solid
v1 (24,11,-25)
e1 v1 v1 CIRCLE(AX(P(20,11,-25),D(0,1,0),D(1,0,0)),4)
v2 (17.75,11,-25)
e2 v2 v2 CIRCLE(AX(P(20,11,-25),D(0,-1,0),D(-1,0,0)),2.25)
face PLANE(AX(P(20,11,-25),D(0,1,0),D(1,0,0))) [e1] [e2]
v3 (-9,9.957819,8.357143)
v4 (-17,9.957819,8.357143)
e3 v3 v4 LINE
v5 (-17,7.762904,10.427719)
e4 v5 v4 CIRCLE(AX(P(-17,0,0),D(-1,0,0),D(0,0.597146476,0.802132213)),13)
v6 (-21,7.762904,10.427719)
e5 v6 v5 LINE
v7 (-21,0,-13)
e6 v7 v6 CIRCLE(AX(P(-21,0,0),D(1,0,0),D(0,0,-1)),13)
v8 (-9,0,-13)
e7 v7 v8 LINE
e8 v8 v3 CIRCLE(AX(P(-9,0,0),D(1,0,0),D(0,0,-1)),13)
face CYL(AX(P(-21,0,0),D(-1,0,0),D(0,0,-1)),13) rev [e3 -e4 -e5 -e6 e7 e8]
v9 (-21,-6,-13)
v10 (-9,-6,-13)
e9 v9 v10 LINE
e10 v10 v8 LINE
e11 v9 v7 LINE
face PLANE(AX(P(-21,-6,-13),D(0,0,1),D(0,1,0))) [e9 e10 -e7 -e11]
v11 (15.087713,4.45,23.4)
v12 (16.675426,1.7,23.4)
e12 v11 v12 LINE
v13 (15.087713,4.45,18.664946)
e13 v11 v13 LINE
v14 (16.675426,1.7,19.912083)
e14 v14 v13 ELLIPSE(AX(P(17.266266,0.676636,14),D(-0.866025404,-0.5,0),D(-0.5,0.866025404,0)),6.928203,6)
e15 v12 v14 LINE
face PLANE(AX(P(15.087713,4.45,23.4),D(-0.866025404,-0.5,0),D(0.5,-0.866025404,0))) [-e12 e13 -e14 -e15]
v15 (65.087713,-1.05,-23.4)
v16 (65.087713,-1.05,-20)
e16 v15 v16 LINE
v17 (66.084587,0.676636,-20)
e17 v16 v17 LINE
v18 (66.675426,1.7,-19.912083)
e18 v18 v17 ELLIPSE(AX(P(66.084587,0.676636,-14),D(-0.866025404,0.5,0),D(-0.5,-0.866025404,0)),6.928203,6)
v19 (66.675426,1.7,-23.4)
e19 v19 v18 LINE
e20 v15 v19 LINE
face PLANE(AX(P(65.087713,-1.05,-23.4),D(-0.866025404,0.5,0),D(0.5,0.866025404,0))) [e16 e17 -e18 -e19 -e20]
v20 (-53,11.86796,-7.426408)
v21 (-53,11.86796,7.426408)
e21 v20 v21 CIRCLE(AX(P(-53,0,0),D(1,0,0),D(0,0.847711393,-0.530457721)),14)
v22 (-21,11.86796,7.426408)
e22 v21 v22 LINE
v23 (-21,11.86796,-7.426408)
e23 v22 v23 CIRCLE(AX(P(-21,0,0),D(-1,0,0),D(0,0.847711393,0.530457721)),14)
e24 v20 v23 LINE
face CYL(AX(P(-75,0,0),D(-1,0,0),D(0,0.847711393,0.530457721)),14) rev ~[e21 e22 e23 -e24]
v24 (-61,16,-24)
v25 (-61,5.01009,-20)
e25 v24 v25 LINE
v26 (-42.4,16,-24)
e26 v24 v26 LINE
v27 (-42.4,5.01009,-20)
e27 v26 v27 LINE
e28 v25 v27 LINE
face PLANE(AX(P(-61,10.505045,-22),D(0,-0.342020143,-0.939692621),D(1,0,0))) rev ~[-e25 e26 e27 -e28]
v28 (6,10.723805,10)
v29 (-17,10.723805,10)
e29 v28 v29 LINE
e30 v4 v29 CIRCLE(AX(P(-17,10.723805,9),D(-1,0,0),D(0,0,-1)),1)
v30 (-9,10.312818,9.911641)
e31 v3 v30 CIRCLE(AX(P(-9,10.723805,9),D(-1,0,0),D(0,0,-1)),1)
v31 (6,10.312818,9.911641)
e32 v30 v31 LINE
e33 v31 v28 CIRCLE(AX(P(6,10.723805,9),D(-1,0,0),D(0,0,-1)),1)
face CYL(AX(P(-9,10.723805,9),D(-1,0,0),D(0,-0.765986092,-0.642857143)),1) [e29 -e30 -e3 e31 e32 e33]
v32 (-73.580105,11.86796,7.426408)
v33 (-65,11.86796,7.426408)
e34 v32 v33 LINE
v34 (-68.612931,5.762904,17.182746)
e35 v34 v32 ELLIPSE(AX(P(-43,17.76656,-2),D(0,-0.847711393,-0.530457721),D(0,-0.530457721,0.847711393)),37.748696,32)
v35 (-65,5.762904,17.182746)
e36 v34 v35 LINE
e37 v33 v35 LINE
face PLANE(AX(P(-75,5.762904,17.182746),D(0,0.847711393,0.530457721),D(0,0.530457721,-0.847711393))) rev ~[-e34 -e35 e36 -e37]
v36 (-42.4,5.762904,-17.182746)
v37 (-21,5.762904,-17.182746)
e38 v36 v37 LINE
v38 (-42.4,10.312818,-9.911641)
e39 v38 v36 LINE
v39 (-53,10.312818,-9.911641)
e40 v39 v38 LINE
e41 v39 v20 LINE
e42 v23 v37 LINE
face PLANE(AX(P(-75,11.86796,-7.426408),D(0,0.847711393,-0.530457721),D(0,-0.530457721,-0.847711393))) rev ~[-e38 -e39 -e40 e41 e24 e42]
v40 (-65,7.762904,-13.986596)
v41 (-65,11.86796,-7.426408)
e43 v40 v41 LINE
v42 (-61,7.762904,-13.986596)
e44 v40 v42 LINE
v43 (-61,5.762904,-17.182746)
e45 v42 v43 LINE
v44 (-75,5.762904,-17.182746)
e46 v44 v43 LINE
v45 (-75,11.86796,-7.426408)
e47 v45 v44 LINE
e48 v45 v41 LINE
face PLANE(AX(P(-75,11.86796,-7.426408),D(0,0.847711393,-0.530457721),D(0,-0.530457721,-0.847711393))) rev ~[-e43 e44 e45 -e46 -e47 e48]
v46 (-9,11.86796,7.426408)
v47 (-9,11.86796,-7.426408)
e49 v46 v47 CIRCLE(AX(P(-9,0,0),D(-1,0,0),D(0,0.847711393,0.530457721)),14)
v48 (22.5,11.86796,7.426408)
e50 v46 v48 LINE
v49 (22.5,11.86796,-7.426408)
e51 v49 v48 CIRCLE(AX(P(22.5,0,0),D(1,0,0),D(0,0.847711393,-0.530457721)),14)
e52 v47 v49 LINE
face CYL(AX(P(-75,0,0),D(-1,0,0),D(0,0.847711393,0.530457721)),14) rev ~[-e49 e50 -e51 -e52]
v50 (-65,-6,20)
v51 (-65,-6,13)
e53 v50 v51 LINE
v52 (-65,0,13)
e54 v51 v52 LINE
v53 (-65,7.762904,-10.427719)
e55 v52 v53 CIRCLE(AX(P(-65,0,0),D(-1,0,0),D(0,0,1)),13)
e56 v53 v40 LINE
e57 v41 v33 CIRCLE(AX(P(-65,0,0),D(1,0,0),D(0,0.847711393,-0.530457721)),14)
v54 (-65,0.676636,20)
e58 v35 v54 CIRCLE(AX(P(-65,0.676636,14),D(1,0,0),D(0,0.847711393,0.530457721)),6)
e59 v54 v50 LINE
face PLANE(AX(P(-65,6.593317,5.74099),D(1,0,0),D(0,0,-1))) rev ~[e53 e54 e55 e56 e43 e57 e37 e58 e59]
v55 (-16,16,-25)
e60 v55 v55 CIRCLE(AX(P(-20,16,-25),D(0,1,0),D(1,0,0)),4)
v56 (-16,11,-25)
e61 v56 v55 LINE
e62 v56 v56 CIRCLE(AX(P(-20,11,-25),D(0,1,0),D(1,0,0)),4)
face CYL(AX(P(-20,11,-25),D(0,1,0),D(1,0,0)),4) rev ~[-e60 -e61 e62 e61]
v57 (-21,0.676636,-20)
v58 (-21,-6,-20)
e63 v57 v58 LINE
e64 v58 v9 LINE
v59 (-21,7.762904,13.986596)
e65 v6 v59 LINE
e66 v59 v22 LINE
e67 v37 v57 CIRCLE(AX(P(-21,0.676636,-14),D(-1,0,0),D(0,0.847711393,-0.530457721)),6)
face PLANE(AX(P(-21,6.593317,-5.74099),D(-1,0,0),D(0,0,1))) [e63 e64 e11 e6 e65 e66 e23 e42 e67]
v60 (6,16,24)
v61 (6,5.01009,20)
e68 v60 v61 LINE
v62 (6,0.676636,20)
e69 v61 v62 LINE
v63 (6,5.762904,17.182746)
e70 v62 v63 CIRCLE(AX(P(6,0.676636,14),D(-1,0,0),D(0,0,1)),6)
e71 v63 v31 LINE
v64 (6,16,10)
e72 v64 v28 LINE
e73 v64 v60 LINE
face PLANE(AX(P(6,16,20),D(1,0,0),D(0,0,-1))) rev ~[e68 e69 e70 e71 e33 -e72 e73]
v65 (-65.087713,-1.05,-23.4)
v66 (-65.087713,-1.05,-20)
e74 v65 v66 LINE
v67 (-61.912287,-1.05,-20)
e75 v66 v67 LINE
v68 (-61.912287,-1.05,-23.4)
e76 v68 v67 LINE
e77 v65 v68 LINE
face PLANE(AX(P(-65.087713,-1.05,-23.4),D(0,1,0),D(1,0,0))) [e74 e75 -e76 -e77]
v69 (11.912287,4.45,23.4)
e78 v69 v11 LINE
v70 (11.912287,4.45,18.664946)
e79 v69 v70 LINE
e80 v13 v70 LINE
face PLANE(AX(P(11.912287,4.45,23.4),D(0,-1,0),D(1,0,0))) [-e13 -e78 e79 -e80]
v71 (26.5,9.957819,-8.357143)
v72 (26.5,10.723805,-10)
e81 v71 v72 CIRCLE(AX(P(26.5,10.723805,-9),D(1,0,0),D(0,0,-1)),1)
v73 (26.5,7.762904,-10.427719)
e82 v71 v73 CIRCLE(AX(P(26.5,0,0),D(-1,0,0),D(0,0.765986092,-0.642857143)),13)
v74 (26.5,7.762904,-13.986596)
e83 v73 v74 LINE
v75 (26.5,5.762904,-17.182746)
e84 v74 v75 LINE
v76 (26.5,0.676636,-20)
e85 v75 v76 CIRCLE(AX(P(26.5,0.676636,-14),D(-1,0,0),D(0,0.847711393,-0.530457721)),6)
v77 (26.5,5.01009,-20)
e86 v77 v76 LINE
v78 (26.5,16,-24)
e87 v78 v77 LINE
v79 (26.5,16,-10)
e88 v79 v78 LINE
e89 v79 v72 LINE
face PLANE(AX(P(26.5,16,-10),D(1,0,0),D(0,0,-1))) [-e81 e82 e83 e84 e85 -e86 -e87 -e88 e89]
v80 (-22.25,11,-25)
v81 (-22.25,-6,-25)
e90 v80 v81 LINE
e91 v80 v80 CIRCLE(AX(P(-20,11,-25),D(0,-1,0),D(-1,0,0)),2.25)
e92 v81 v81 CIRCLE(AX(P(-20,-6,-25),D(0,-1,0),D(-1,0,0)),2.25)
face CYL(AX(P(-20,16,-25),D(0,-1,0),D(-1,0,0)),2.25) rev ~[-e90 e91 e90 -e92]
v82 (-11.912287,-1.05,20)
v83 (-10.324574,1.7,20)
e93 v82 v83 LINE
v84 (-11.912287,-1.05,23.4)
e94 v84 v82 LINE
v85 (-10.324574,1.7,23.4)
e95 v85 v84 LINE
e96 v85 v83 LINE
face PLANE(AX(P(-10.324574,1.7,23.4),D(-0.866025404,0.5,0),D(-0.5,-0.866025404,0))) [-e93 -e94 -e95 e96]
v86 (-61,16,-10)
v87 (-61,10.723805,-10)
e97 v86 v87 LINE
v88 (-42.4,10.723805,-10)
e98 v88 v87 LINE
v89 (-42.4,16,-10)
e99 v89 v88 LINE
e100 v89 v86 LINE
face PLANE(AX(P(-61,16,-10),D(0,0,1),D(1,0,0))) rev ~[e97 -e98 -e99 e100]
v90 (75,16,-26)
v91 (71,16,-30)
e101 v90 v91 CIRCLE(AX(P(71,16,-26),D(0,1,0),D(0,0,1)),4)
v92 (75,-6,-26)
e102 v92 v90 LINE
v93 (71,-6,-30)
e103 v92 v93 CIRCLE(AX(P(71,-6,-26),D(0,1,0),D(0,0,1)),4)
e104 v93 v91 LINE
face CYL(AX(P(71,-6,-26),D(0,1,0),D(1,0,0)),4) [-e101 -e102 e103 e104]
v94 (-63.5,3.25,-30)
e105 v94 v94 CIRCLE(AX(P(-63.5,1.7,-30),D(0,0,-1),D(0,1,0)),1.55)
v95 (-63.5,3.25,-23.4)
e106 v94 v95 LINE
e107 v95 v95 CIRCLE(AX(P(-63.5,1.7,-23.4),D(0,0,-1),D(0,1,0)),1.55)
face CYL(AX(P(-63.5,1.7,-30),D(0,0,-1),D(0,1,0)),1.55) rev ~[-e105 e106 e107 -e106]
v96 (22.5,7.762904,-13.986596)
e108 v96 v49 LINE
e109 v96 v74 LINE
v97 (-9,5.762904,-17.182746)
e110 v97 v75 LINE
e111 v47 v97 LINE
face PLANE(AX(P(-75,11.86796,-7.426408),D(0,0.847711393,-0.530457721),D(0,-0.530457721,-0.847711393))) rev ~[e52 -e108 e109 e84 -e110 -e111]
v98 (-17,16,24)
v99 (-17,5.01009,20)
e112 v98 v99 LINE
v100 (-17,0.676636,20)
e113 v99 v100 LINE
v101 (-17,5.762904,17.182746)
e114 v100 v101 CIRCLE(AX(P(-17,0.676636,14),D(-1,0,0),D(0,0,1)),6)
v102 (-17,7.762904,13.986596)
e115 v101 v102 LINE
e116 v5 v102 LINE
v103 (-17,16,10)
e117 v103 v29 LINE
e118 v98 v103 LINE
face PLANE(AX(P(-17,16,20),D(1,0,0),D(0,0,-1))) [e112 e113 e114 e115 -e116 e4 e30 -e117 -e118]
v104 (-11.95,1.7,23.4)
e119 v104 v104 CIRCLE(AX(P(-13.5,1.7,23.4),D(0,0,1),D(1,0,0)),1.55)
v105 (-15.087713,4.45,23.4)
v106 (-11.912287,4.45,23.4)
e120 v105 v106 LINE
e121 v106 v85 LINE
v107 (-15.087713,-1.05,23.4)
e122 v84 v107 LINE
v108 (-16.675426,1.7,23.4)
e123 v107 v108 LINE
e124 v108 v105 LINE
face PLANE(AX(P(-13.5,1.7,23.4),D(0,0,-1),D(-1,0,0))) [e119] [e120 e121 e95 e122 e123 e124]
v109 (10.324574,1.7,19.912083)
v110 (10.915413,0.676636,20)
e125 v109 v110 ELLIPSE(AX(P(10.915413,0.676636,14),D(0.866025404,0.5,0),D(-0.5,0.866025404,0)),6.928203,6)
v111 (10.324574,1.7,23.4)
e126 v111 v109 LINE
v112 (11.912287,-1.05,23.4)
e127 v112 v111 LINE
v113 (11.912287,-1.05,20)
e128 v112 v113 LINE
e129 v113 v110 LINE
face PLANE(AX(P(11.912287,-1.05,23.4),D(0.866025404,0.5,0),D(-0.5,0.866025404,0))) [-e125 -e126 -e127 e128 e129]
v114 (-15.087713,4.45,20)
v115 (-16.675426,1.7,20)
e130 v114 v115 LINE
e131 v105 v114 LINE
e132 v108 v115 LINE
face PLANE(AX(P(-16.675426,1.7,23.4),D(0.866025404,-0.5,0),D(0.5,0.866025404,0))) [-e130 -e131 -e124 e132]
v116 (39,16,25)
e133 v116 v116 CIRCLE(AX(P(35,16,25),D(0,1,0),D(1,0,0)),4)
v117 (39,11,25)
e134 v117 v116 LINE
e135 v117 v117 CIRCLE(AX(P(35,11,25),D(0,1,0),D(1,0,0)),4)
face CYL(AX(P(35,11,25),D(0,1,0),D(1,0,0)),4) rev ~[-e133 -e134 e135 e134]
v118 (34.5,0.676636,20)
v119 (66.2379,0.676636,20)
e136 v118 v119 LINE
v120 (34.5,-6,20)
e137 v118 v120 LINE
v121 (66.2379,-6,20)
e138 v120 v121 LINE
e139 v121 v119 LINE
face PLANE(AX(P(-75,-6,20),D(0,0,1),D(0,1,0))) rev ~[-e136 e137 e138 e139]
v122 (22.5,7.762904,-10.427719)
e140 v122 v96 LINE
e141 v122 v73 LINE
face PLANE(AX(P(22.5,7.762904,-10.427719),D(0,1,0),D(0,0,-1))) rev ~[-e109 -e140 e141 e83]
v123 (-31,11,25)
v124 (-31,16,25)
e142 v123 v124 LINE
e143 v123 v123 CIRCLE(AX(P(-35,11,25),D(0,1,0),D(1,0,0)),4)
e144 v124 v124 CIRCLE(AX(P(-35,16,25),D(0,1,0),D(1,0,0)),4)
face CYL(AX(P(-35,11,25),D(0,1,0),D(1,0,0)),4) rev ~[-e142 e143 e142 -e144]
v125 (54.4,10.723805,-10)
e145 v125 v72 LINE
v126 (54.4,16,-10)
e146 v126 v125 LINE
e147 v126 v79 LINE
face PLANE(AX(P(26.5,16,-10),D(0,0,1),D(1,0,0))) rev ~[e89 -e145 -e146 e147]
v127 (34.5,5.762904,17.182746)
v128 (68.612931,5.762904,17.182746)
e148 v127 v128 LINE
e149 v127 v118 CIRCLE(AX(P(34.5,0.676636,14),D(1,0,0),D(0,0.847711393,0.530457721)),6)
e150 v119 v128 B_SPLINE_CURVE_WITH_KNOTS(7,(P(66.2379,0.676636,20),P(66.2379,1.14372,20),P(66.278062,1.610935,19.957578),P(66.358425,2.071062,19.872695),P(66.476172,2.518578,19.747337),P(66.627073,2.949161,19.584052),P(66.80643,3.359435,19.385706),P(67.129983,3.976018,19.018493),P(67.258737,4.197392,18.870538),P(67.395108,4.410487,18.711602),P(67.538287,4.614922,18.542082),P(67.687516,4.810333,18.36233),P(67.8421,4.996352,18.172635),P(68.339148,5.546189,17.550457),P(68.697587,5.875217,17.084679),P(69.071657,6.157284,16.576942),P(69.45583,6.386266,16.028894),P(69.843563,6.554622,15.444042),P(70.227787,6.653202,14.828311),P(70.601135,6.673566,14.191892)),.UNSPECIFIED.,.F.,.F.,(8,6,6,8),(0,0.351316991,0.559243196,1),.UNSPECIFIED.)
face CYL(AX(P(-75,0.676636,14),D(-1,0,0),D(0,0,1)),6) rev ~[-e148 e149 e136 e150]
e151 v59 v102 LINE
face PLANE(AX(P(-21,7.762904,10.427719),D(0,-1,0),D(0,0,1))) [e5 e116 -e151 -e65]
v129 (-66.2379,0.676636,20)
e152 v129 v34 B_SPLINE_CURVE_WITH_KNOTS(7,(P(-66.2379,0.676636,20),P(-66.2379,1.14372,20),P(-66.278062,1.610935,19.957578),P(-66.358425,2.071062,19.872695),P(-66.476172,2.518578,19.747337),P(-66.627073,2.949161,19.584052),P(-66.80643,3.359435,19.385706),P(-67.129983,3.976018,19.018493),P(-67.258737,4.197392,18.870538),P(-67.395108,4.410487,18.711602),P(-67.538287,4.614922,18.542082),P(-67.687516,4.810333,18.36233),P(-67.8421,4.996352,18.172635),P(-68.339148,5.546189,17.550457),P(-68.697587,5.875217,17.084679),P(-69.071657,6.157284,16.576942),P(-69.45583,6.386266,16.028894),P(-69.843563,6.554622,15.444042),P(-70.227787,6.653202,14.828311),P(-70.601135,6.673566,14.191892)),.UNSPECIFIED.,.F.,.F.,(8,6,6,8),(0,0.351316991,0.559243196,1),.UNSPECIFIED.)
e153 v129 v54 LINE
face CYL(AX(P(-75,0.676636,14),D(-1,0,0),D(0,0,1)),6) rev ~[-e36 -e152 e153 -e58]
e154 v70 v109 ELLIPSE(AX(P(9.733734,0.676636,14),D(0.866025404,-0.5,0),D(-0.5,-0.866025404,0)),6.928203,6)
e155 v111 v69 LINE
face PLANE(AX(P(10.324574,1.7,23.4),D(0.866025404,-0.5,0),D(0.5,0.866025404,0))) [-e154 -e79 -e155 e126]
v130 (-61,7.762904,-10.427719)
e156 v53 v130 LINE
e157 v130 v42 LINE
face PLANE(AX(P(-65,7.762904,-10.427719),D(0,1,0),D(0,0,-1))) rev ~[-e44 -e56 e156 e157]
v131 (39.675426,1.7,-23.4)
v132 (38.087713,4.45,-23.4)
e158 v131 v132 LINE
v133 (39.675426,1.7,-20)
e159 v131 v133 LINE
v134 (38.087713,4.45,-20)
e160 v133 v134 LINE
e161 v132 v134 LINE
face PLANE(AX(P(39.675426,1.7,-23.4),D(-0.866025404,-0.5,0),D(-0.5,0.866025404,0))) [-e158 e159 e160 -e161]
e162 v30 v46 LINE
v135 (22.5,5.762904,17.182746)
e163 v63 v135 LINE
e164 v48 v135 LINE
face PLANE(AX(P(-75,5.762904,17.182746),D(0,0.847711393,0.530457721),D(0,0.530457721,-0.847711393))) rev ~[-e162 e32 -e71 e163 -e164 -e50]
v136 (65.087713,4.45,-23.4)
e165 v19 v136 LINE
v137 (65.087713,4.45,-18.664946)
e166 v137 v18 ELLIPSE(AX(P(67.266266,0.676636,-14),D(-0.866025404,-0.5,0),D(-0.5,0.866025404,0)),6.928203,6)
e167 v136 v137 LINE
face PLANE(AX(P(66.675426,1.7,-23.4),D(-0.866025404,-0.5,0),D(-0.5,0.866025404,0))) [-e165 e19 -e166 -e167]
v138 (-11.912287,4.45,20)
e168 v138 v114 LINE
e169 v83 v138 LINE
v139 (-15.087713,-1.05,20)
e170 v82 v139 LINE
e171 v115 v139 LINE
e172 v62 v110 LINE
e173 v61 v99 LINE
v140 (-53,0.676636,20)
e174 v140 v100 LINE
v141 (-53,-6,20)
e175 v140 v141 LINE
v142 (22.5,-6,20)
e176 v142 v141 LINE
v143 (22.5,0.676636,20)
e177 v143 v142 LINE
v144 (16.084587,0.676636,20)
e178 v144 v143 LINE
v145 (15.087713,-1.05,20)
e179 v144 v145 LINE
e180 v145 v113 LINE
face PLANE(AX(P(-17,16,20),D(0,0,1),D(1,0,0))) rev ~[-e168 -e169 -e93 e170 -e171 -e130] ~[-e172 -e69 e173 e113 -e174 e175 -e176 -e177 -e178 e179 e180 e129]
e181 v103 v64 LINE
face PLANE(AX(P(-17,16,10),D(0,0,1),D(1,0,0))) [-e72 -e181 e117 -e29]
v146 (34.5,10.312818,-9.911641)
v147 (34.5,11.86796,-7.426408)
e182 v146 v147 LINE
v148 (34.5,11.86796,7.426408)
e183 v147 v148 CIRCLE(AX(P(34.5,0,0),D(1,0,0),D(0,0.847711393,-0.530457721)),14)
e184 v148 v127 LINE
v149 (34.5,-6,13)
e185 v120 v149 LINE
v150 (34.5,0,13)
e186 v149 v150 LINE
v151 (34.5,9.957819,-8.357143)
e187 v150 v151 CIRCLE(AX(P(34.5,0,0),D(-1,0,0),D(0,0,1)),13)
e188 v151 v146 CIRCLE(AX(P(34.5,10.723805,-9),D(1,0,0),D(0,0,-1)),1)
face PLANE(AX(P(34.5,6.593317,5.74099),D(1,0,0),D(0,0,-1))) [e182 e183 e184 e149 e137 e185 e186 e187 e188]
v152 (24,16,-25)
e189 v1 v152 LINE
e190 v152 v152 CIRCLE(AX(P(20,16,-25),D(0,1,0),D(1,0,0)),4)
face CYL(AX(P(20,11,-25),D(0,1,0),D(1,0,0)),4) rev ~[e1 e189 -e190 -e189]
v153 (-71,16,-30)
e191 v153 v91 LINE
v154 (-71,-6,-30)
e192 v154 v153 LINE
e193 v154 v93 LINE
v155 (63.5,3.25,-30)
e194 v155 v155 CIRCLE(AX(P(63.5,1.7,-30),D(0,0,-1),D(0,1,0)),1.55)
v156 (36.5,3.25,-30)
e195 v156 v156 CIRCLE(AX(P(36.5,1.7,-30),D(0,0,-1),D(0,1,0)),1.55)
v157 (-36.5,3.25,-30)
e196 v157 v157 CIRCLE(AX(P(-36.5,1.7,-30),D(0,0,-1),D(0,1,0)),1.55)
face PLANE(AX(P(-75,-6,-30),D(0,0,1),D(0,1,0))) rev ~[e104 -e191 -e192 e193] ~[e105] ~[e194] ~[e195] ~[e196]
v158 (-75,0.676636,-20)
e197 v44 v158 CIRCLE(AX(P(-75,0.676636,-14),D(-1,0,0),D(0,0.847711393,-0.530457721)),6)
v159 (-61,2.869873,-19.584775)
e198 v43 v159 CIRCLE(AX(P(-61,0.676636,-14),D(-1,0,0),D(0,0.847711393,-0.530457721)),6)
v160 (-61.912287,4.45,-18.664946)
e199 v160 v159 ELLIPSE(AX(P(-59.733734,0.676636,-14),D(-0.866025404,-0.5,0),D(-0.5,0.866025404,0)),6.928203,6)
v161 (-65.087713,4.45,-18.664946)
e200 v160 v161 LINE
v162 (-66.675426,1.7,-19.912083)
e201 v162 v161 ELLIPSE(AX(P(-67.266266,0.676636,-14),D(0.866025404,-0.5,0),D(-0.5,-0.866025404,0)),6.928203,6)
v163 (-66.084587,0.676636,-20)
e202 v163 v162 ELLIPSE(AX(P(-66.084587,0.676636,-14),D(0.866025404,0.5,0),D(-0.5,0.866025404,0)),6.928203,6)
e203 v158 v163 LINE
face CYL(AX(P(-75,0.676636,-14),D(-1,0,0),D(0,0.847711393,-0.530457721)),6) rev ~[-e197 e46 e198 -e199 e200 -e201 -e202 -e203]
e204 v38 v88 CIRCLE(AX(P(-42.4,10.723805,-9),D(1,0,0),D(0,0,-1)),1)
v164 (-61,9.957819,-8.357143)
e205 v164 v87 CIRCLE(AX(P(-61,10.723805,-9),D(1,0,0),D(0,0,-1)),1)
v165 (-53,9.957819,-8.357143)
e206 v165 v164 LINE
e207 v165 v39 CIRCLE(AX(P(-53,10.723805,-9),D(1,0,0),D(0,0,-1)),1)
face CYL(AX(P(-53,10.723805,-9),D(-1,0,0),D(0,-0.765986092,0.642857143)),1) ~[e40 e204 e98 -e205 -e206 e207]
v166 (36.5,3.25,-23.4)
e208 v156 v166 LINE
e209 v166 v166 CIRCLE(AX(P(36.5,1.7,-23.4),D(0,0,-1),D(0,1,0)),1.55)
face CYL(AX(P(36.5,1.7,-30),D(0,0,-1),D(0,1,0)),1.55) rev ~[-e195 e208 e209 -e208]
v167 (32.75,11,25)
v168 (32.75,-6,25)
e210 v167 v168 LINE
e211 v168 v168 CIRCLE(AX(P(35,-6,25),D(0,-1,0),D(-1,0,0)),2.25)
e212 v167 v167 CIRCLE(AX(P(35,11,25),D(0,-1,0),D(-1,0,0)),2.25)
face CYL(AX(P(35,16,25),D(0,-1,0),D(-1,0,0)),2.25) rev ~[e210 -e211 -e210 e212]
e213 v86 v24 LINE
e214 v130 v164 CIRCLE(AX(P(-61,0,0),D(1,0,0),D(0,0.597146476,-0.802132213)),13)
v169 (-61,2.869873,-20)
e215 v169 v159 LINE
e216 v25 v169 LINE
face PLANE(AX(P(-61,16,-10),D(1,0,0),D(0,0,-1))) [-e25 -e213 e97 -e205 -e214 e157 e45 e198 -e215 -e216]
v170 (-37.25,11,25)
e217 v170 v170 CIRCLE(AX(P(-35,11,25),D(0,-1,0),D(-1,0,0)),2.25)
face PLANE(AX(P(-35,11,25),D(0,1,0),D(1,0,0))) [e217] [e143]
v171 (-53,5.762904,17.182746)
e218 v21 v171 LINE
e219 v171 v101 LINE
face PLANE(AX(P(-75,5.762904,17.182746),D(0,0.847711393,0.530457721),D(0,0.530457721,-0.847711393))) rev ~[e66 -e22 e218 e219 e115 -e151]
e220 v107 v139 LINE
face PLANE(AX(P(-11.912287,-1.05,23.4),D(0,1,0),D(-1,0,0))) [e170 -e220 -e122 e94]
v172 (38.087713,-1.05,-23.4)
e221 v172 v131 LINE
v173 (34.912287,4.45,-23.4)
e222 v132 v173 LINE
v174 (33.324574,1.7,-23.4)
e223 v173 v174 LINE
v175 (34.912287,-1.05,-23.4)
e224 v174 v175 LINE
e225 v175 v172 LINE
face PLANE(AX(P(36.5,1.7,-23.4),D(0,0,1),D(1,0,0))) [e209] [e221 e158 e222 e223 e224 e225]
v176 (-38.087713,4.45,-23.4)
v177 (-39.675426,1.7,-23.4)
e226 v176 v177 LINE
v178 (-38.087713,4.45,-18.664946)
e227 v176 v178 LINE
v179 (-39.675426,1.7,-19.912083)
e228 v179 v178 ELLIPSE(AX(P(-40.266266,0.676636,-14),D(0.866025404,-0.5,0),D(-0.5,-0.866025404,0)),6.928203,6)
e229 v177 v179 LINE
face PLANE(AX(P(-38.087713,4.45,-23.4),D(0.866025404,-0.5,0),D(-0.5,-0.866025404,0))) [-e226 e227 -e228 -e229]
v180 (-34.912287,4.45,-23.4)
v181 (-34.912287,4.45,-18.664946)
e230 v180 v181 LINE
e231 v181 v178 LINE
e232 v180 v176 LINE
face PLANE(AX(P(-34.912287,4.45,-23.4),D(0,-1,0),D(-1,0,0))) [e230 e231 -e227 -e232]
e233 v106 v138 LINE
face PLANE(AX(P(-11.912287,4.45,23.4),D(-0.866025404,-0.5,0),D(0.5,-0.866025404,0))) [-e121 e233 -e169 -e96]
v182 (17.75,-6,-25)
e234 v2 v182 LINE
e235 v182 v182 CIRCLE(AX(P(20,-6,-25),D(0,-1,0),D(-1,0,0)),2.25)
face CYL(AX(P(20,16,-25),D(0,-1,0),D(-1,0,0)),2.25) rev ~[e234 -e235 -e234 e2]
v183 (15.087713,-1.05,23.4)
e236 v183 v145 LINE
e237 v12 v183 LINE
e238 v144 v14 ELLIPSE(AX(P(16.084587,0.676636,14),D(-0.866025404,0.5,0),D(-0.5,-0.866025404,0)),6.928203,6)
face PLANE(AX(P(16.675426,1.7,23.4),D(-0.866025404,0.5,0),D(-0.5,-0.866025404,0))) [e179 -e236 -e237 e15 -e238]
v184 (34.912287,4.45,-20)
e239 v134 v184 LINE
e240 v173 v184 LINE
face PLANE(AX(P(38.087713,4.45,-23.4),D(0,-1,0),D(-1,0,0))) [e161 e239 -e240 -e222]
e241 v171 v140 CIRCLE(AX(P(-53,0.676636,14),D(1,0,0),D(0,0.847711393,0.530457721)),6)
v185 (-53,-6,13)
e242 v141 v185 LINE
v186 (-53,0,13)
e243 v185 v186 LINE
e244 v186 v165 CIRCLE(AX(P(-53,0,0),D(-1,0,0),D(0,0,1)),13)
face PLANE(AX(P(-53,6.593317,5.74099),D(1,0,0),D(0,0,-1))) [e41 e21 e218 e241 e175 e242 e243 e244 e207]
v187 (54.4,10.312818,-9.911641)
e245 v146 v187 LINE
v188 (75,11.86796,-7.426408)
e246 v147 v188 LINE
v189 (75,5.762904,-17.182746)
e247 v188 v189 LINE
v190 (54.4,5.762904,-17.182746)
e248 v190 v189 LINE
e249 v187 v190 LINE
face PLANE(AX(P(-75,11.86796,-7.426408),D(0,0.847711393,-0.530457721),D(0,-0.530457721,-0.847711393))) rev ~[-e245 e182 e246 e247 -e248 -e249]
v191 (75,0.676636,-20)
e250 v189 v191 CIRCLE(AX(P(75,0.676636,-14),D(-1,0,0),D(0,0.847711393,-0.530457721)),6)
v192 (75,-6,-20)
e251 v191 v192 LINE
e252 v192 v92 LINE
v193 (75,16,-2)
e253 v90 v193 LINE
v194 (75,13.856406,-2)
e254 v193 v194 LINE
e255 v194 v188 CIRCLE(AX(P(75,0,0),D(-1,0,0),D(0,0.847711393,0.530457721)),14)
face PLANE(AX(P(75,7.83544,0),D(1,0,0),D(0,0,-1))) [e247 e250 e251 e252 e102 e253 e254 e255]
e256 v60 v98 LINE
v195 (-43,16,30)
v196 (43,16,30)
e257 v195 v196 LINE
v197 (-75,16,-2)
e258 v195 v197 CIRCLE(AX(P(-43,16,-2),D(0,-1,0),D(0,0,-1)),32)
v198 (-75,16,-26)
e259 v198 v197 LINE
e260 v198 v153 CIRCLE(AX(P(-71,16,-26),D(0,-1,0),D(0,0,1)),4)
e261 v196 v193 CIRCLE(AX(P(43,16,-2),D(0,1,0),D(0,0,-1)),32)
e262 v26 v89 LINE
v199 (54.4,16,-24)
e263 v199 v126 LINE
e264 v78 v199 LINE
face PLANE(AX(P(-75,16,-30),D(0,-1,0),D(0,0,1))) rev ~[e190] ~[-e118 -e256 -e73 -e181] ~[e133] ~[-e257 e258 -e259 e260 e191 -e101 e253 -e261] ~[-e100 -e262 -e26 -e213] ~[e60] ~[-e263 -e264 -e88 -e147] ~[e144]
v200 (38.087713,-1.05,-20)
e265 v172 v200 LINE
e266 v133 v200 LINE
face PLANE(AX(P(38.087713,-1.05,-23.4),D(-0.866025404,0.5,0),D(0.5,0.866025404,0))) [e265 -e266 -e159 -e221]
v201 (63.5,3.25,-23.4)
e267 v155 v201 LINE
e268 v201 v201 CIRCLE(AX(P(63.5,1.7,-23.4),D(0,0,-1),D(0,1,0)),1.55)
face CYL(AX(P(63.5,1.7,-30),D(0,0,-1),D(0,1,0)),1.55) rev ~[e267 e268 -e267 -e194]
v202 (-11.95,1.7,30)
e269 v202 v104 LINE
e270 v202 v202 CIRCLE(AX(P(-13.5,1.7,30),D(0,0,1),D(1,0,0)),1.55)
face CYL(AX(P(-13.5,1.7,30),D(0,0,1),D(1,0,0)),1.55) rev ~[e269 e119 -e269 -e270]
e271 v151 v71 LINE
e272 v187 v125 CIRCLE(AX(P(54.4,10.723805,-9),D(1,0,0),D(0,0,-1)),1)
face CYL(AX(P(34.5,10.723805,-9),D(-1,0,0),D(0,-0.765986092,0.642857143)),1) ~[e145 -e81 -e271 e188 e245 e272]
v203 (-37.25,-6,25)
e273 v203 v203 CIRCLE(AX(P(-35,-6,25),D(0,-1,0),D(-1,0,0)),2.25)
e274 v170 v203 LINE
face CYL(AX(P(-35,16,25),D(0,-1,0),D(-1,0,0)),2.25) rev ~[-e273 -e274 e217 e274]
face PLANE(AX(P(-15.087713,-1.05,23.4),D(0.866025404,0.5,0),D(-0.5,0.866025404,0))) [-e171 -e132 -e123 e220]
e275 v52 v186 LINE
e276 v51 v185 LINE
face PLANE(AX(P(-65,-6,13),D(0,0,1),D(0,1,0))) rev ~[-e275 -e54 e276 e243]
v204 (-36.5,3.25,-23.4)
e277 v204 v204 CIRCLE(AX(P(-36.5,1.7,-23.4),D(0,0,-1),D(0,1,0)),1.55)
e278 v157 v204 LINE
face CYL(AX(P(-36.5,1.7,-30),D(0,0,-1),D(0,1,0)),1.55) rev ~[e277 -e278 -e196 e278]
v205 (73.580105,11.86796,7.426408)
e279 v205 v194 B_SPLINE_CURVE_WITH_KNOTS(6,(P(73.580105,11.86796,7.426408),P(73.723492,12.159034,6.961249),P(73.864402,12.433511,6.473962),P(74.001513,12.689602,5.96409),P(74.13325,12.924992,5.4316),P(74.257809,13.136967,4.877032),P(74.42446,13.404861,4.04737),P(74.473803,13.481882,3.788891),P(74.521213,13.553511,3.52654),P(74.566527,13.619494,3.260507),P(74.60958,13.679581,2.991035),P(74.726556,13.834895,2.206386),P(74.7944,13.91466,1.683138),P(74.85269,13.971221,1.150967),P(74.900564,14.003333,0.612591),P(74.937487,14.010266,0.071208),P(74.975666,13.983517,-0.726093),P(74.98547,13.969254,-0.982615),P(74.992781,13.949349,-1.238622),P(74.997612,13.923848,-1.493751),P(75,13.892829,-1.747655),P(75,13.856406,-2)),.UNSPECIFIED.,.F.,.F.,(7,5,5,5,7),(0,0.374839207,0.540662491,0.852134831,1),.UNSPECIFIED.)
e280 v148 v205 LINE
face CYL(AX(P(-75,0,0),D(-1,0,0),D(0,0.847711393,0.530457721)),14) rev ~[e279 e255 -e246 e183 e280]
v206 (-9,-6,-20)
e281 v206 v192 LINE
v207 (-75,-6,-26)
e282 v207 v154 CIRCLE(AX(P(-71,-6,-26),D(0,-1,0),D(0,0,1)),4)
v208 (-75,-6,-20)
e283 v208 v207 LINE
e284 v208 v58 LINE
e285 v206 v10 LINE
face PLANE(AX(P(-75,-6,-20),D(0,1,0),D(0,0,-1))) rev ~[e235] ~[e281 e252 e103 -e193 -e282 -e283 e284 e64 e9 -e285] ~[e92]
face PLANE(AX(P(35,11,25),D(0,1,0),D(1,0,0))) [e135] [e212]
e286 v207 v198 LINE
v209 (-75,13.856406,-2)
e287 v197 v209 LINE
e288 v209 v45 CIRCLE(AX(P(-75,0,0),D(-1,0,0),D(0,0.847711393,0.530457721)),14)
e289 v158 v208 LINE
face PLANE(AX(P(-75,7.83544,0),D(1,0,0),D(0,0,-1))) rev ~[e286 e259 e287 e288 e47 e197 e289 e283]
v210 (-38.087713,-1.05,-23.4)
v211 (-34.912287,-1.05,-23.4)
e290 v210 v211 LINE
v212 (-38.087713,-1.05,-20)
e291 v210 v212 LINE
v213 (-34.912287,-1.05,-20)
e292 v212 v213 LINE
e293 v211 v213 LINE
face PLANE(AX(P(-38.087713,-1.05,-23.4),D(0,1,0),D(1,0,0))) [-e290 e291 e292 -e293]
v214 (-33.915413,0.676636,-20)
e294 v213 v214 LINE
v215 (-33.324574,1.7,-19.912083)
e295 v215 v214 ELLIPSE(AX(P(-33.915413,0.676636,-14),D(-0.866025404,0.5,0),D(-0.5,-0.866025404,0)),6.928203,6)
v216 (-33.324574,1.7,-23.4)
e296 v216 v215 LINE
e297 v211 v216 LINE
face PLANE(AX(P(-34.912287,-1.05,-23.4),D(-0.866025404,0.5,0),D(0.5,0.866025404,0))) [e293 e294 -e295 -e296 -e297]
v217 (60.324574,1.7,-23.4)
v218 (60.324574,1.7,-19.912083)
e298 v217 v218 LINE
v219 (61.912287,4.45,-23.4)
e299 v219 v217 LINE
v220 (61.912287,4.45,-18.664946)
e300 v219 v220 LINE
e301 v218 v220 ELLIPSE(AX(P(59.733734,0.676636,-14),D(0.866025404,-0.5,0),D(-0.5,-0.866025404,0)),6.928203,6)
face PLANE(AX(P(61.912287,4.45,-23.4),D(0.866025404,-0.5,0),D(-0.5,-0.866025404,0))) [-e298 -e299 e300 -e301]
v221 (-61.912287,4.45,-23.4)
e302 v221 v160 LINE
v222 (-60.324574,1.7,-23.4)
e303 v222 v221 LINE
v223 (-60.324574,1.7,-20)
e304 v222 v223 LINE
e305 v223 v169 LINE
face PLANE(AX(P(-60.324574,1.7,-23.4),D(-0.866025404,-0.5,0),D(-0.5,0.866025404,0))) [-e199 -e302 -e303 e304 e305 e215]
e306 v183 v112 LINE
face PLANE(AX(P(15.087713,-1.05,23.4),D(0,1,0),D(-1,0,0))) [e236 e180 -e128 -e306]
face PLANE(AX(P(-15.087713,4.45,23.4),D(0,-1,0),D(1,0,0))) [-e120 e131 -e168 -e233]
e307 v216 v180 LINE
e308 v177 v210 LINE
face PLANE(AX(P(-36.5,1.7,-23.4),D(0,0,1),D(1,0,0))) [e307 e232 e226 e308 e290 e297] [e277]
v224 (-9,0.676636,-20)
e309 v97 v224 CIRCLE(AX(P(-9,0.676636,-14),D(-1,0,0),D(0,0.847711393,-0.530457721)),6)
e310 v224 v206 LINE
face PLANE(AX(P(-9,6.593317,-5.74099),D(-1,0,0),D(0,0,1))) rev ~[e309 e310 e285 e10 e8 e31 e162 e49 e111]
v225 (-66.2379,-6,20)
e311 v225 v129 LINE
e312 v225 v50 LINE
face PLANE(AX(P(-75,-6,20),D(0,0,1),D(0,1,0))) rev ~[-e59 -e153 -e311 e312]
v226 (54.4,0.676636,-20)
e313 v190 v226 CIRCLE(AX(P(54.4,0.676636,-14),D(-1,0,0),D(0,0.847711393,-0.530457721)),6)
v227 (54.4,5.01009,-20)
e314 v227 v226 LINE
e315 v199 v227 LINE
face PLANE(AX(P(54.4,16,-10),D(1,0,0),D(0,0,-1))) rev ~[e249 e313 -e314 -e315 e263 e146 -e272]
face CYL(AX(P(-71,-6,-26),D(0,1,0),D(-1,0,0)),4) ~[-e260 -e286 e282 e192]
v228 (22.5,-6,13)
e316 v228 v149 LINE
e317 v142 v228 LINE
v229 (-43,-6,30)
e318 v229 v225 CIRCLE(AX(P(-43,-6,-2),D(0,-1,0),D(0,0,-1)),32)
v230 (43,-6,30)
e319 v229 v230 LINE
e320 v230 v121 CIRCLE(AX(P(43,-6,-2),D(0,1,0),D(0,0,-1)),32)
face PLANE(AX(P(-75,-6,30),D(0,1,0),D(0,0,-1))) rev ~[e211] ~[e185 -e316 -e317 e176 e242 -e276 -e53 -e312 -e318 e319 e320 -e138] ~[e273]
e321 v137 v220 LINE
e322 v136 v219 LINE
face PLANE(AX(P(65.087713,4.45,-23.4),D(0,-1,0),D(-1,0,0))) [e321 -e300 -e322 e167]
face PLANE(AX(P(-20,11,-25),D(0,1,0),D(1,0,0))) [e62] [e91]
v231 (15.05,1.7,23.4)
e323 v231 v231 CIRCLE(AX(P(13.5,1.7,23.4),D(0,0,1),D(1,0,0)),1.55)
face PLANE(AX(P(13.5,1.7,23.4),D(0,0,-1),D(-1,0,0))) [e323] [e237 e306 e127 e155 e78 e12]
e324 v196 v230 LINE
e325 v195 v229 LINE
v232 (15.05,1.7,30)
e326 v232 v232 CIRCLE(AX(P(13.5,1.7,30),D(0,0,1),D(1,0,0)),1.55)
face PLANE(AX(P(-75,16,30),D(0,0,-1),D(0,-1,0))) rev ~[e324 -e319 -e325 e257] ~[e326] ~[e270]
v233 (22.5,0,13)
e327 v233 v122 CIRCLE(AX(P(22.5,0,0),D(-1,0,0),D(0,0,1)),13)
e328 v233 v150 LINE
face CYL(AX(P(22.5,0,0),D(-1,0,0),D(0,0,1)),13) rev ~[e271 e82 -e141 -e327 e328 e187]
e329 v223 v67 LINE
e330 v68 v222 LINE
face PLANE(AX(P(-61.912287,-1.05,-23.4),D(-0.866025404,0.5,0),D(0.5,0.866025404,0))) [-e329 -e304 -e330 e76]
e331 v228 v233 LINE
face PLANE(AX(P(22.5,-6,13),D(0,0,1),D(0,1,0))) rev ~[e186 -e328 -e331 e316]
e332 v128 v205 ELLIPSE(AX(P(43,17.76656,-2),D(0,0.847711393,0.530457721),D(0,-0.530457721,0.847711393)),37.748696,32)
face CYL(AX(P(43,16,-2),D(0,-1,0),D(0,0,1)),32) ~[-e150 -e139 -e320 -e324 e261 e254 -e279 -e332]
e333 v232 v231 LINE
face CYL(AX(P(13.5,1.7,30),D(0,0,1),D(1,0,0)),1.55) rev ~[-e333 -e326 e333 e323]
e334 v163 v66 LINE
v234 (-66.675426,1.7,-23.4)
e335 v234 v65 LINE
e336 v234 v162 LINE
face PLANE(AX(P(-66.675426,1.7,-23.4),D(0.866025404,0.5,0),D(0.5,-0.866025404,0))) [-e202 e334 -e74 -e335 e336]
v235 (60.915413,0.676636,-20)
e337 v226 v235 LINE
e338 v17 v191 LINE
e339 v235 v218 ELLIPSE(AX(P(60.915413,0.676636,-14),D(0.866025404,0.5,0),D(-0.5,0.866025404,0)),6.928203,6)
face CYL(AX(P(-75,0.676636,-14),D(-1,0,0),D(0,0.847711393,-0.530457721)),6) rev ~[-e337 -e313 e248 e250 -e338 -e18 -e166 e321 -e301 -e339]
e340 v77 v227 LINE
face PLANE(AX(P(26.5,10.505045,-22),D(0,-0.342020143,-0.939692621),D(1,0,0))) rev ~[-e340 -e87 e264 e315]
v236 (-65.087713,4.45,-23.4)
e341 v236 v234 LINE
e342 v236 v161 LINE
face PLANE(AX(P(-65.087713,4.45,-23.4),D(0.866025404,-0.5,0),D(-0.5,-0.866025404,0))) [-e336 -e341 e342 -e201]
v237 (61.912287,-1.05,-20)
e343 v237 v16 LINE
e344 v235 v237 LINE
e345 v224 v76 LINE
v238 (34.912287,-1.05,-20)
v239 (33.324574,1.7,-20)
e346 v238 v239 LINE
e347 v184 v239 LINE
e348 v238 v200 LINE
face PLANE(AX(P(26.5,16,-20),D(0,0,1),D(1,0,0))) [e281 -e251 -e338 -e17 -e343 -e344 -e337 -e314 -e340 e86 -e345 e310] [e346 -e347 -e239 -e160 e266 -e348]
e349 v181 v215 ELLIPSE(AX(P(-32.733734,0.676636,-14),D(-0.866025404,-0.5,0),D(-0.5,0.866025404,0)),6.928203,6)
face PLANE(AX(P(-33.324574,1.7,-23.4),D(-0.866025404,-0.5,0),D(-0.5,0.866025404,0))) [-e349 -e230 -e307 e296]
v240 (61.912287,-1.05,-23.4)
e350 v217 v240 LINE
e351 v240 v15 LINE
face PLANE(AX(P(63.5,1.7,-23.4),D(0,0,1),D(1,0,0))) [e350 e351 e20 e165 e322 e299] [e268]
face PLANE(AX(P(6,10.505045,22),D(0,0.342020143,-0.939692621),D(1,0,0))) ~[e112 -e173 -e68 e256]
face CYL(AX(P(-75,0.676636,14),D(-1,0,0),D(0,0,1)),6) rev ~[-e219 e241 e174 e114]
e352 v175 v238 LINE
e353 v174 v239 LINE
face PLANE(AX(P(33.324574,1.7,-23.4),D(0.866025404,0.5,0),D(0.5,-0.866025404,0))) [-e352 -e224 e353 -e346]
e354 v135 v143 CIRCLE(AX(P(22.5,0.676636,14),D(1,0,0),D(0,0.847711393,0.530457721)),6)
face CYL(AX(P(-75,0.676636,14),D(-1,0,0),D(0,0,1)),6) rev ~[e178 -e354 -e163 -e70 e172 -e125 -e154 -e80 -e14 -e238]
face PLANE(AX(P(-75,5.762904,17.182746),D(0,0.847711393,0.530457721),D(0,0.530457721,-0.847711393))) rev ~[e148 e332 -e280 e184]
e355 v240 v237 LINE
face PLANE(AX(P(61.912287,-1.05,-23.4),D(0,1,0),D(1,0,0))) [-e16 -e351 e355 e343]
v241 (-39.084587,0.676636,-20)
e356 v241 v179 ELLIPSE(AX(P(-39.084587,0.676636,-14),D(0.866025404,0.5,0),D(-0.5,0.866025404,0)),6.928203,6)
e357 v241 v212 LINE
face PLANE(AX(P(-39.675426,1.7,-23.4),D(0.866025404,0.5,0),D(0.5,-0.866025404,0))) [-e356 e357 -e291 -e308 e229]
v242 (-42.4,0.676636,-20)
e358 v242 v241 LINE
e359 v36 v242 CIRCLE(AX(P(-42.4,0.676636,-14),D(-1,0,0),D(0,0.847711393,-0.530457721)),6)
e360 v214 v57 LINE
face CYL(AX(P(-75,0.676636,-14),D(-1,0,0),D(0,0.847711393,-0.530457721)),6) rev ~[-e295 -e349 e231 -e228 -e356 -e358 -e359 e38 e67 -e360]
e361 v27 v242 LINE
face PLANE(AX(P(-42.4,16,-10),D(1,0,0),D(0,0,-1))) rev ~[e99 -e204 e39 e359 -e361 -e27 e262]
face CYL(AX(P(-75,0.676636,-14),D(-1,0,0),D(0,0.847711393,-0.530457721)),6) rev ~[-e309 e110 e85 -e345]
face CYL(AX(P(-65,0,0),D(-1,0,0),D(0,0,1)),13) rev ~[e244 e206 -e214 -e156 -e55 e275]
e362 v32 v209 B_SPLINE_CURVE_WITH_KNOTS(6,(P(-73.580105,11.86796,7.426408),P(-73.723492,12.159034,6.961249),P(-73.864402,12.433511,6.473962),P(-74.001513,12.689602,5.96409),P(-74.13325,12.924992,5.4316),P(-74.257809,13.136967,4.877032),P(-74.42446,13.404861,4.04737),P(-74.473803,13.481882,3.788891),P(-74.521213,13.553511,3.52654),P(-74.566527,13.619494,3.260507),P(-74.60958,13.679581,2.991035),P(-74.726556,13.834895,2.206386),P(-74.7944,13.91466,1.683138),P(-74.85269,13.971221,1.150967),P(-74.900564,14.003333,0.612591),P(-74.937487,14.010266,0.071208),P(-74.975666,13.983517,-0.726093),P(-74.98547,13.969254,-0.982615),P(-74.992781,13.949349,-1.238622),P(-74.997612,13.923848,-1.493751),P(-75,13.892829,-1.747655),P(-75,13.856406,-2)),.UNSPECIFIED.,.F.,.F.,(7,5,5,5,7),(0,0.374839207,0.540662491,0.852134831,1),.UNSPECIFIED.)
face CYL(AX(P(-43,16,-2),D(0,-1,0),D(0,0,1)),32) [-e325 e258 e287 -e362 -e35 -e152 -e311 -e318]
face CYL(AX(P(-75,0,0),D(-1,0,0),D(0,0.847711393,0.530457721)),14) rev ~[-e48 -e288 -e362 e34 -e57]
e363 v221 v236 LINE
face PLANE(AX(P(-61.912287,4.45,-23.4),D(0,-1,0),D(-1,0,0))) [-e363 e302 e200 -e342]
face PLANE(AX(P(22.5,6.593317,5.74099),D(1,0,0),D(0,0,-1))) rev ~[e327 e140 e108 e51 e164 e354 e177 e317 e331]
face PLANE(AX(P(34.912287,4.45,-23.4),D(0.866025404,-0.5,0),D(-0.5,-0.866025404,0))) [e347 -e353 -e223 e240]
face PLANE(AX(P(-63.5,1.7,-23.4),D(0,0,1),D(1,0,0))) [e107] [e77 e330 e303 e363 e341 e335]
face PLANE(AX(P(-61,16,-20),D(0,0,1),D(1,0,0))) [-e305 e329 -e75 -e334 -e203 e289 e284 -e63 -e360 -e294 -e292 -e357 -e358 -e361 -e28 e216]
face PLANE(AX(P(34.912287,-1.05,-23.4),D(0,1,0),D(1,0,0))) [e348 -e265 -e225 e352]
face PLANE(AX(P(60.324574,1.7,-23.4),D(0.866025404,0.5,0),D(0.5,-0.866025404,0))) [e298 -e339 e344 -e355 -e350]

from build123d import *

# Parameters (mm, degrees)
BOSS_EXTRUDE1_DEPTH            = 75
BOSS_EXTRUDE1_DEPTH_BACK       = 75
FILLET1_R                      = 32
FILLET2_R                      = 4
SKETCH2_R                      = 1.55
CUT_EXTRUDE1_DEPTH             = 30
SKETCH3_R                      = 1.55
CUT_EXTRUDE2_DEPTH             = 30
CUT_EXTRUDE4_DEPTH             = 25
CUT_EXTRUDE4_DEPTH_BACK        = 3.4
SKETCH6_R                      = 2.1
CUT_EXTRUDE5_DEPTH             = 84.719770816
CBORE_FOR_M4_SHCS1_D           = 4.5
CBORE_FOR_M4_SHCS1_CBORE_D     = 8
CBORE_FOR_M4_SHCS1_CBORE_DEPTH = 5
BOSS_EXTRUDE2_DEPTH            = 12
CUT_EXTRUDE3_DEPTH             = 25
CUT_EXTRUDE3_DEPTH_BACK        = 3.4
BOSS_EXTRUDE3_START            = -87.5
BOSS_EXTRUDE3_DEPTH            = 12
BOSS_EXTRUDE4_DEPTH            = 12
SKETCH14_W                     = 12
SKETCH14_H                     = 10
CUT_EXTRUDE8_DEPTH             = 84.719770816
SKETCH15_W                     = 6.6
SKETCH15_H                     = 10
SKETCH15_W_2                   = 11
SKETCH15_W_3                   = 15.9
CUT_EXTRUDE9_DEPTH             = 84.719770816
FILLET3_R                      = 1
CHAMFER1_SIZE                  = 4
CHAMFER1_SIZE2                 = 10.989909678


with BuildPart() as part:
    # Sketch1 → Boss-Extrude1 (new, two sides: drawn at the far end of the back side and taken through both)
    with BuildSketch(Plane(origin=(0, 0, 0), x_dir=(0, 0, -1), z_dir=(1, 0, 0)).offset(-BOSS_EXTRUDE1_DEPTH_BACK)):
        with BuildLine():
            Line((-30, -6), (-20, -6))
            Line((-20, -6), (-20, 0.676635828))
            ThreePointArc((-20, 0.676635828), (-19.248641632, 3.583827087), (-17.182746328, 5.762904186))
            Line((-17.182746328, 5.762904186), (-7.4264081, 11.867959502))
            ThreePointArc((-7.4264081, 11.867959502), (0, 14), (7.4264081, 11.867959502))
            Line((7.4264081, 11.867959502), (17.182746328, 5.762904186))
            ThreePointArc((17.182746328, 5.762904186), (19.248641632, 3.583827087), (20, 0.676635828))
            Line((20, 0.676635828), (20, -6))
            Line((20, -6), (30, -6))
            Line((30, -6), (30, 16))
            Line((30, 16), (-30, 16))
            Line((-30, 16), (-30, -6))
        make_face()
    extrude(amount=BOSS_EXTRUDE1_DEPTH + BOSS_EXTRUDE1_DEPTH_BACK)

    # Fillet1
    fillet1_edges = [part.edges().sort_by_distance(p)[0] for p in [
        (-75, 5, 30),
        (75, 5, 30),
    ]]
    fillet(fillet1_edges, radius=FILLET1_R)

    # Fillet2
    fillet2_edges = [part.edges().sort_by_distance(p)[0] for p in [
        (-75, 5, -30),
        (75, 5, -30),
    ]]
    fillet(fillet2_edges, radius=FILLET2_R)

    # Sketch2 → Cut-Extrude1 (cut)
    with BuildSketch(Plane(origin=(0, 0, -30), x_dir=(-1, 0, 0), z_dir=(0, 0, -1))):
        with Locations(Location((36.5, 1.7, 0), (0, 0, 90))):
            Circle(SKETCH2_R)
        with Locations(Location((63.5, 1.7, 0), (0, 0, 90))):
            Circle(SKETCH2_R)
        with Locations(Location((-36.5, 1.7, 0), (0, 0, 90))):
            Circle(SKETCH2_R)
        with Locations(Location((-63.5, 1.7, 0), (0, 0, 90))):
            Circle(SKETCH2_R)
    extrude(amount=-CUT_EXTRUDE1_DEPTH, mode=Mode.SUBTRACT)

    # Sketch3 → Cut-Extrude2 (cut)
    with BuildSketch(Plane.XY.offset(30)):
        with Locations((-13.5, 1.7)):
            Circle(SKETCH3_R)
        with Locations((13.5, 1.7)):
            Circle(SKETCH3_R)
    extrude(amount=-CUT_EXTRUDE2_DEPTH, mode=Mode.SUBTRACT)

    # Sketch5 → Cut-Extrude4 (cut, two sides: drawn at the far end of the back side and taken through both)
    with BuildSketch(Plane(origin=(0, 0, 20), x_dir=(-1, 0, 0), z_dir=(0, 0, -1)).offset(-CUT_EXTRUDE4_DEPTH_BACK)):
        Polygon((-11.91228676, 4.45), (-15.08771324, 4.45), (-16.675426481, 1.7), (-15.08771324, -1.05), (-11.91228676, -1.05), (-10.324573519, 1.7), align=None)
        Polygon((11.91228676, 4.45), (10.324573519, 1.7), (11.91228676, -1.05), (15.08771324, -1.05), (16.675426481, 1.7), (15.08771324, 4.45), align=None)
    extrude(amount=CUT_EXTRUDE4_DEPTH + CUT_EXTRUDE4_DEPTH_BACK, mode=Mode.SUBTRACT)

    # Sketch6 → Cut-Extrude5 (cut, through all)
    with BuildSketch(Plane.XZ.offset(6)):
        with Locations(Location((-20, -25, 0), (0, 0, 270))):
            Circle(SKETCH6_R)
        with Locations(Location((20, -25, 0), (0, 0, 270))):
            Circle(SKETCH6_R)
        with Locations(Location((35, 25, 0), (0, 0, 270))):
            Circle(SKETCH6_R)
        with Locations(Location((-35, 25, 0), (0, 0, 270))):
            Circle(SKETCH6_R)
    extrude(amount=-CUT_EXTRUDE5_DEPTH, mode=Mode.SUBTRACT)

    # CBORE for M4 SHCS1 (through all)
    with Locations(Plane(origin=(0, 16, 0), x_dir=(1, 0, 0), z_dir=(0, 1, 0))):
        with Locations((-20, 25), (20, 25), (35, -25), (-35, -25)):
            CounterBoreHole(CBORE_FOR_M4_SHCS1_D / 2, CBORE_FOR_M4_SHCS1_CBORE_D / 2, CBORE_FOR_M4_SHCS1_CBORE_DEPTH)

    # Sketch12 → Boss-Extrude2 (add)
    with BuildSketch(Plane.ZY.offset(65)):
        with BuildLine():
            Line((20, -6), (13, -6))
            Line((13, -6), (13, 0))
            ThreePointArc((13, 0), (4.088988633, 12.340185248), (-10.427718763, 7.762904186))
            Line((-10.427718763, 7.762904186), (-13.986595688, 7.762904186))
            Line((-13.986595688, 7.762904186), (-7.4264081, 11.867959502))
            ThreePointArc((-7.4264081, 11.867959502), (0, 14), (7.4264081, 11.867959502))
            Line((7.4264081, 11.867959502), (17.182746328, 5.762904186))
            ThreePointArc((17.182746328, 5.762904186), (19.248641632, 3.583827087), (20, 0.676635828))
            Line((20, 0.676635828), (20, -6))
        make_face()
    extrude(amount=-BOSS_EXTRUDE2_DEPTH)

    # Sketch4 → Cut-Extrude3 (cut, two sides: drawn at the far end of the back side and taken through both)
    with BuildSketch(Plane.XY.offset(-20).offset(-CUT_EXTRUDE3_DEPTH_BACK)):
        Polygon((-38.08771324, 4.45), (-39.675426481, 1.7), (-38.08771324, -1.05), (-34.91228676, -1.05), (-33.324573519, 1.7), (-34.91228676, 4.45), align=None)
        Polygon((-65.08771324, 4.45), (-66.675426481, 1.7), (-65.08771324, -1.05), (-61.91228676, -1.05), (-60.324573519, 1.7), (-61.91228676, 4.45), align=None)
        Polygon((34.91228676, 4.45), (33.324573519, 1.7), (34.91228676, -1.05), (38.08771324, -1.05), (39.675426481, 1.7), (38.08771324, 4.45), align=None)
        Polygon((61.91228676, 4.45), (60.324573519, 1.7), (61.91228676, -1.05), (65.08771324, -1.05), (66.675426481, 1.7), (65.08771324, 4.45), align=None)
    extrude(amount=CUT_EXTRUDE3_DEPTH + CUT_EXTRUDE3_DEPTH_BACK, mode=Mode.SUBTRACT)

    # Sketch12<2> → Boss-Extrude3 (add)
    with BuildSketch(Plane.ZY.offset(65).offset(BOSS_EXTRUDE3_START)):
        with BuildLine():
            Line((20, -6), (13, -6))
            Line((13, -6), (13, 0))
            ThreePointArc((13, 0), (4.088988633, 12.340185248), (-10.427718763, 7.762904186))
            Line((-10.427718763, 7.762904186), (-13.986595688, 7.762904186))
            Line((-13.986595688, 7.762904186), (-7.4264081, 11.867959502))
            ThreePointArc((-7.4264081, 11.867959502), (0, 14), (7.4264081, 11.867959502))
            Line((7.4264081, 11.867959502), (17.182746328, 5.762904186))
            ThreePointArc((17.182746328, 5.762904186), (19.248641632, 3.583827087), (20, 0.676635828))
            Line((20, 0.676635828), (20, -6))
        make_face()
    extrude(amount=-BOSS_EXTRUDE3_DEPTH)

    # Sketch13 → Boss-Extrude4 (add)
    with BuildSketch(Plane.ZY.offset(21)):
        with BuildLine():
            Line((-20, -6), (-13, -6))
            Line((-13, -6), (-13, 0))
            ThreePointArc((-13, 0), (-4.088988633, 12.340185248), (10.427718763, 7.762904186))
            Line((10.427718763, 7.762904186), (13.986595688, 7.762904186))
            Line((13.986595688, 7.762904186), (7.4264081, 11.867959502))
            ThreePointArc((7.4264081, 11.867959502), (0, 14), (-7.4264081, 11.867959502))
            Line((-7.4264081, 11.867959502), (-17.182746328, 5.762904186))
            ThreePointArc((-17.182746328, 5.762904186), (-19.248641632, 3.583827087), (-20, 0.676635828))
            Line((-20, 0.676635828), (-20, -6))
        make_face()
    extrude(amount=-BOSS_EXTRUDE4_DEPTH)

    # Sketch14 → Cut-Extrude8 (cut, through all)
    with BuildSketch(Plane(origin=(0, 16, 0), x_dir=(1, 0, 0), z_dir=(0, 1, 0))):
        with Locations((-48.4, 15)):
            Rectangle(SKETCH14_W, SKETCH14_H)
        with Locations((48.4, 15)):
            Rectangle(SKETCH14_W, SKETCH14_H)
        with Locations((0, -15)):
            Rectangle(SKETCH14_W, SKETCH14_H)
    extrude(amount=-CUT_EXTRUDE8_DEPTH, mode=Mode.SUBTRACT)

    # Sketch15 → Cut-Extrude9 (cut, through all)
    with BuildSketch(Plane(origin=(0, 16, 0), x_dir=(1, 0, 0), z_dir=(0, 1, 0))):
        with Locations((-57.7, 15)):
            Rectangle(SKETCH15_W, SKETCH15_H)
        with Locations((-11.5, -15)):
            Rectangle(SKETCH15_W_2, SKETCH15_H)
        with Locations((34.45, 15)):
            Rectangle(SKETCH15_W_3, SKETCH15_H)
    extrude(amount=-CUT_EXTRUDE9_DEPTH, mode=Mode.SUBTRACT)

    # Fillet3
    fillet3_edges = [part.edges().sort_by_distance(p)[0] for p in [
        (30.5, 8.306623863, -10),
        (-13, 8.306623863, 10),
        (-57, 8.306623863, -10),
    ]]
    fillet(fillet3_edges, radius=FILLET3_R)

    # Chamfer1
    chamfer1_edges = [part.edges().sort_by_distance(p)[0] for p in [
        (-51.7, 16, -20),
        (40.45, 16, -20),
        (-5.5, 16, 20),
    ]]
    chamfer1_side = [part.faces().sort_by_distance(p)[0] for p in [
        (-0.052803983, 16, -0.825167589),
    ]]
    chamfer(chamfer1_edges, length=CHAMFER1_SIZE, length2=CHAMFER1_SIZE2, reference=chamfer1_side[0])


solid = part.part
